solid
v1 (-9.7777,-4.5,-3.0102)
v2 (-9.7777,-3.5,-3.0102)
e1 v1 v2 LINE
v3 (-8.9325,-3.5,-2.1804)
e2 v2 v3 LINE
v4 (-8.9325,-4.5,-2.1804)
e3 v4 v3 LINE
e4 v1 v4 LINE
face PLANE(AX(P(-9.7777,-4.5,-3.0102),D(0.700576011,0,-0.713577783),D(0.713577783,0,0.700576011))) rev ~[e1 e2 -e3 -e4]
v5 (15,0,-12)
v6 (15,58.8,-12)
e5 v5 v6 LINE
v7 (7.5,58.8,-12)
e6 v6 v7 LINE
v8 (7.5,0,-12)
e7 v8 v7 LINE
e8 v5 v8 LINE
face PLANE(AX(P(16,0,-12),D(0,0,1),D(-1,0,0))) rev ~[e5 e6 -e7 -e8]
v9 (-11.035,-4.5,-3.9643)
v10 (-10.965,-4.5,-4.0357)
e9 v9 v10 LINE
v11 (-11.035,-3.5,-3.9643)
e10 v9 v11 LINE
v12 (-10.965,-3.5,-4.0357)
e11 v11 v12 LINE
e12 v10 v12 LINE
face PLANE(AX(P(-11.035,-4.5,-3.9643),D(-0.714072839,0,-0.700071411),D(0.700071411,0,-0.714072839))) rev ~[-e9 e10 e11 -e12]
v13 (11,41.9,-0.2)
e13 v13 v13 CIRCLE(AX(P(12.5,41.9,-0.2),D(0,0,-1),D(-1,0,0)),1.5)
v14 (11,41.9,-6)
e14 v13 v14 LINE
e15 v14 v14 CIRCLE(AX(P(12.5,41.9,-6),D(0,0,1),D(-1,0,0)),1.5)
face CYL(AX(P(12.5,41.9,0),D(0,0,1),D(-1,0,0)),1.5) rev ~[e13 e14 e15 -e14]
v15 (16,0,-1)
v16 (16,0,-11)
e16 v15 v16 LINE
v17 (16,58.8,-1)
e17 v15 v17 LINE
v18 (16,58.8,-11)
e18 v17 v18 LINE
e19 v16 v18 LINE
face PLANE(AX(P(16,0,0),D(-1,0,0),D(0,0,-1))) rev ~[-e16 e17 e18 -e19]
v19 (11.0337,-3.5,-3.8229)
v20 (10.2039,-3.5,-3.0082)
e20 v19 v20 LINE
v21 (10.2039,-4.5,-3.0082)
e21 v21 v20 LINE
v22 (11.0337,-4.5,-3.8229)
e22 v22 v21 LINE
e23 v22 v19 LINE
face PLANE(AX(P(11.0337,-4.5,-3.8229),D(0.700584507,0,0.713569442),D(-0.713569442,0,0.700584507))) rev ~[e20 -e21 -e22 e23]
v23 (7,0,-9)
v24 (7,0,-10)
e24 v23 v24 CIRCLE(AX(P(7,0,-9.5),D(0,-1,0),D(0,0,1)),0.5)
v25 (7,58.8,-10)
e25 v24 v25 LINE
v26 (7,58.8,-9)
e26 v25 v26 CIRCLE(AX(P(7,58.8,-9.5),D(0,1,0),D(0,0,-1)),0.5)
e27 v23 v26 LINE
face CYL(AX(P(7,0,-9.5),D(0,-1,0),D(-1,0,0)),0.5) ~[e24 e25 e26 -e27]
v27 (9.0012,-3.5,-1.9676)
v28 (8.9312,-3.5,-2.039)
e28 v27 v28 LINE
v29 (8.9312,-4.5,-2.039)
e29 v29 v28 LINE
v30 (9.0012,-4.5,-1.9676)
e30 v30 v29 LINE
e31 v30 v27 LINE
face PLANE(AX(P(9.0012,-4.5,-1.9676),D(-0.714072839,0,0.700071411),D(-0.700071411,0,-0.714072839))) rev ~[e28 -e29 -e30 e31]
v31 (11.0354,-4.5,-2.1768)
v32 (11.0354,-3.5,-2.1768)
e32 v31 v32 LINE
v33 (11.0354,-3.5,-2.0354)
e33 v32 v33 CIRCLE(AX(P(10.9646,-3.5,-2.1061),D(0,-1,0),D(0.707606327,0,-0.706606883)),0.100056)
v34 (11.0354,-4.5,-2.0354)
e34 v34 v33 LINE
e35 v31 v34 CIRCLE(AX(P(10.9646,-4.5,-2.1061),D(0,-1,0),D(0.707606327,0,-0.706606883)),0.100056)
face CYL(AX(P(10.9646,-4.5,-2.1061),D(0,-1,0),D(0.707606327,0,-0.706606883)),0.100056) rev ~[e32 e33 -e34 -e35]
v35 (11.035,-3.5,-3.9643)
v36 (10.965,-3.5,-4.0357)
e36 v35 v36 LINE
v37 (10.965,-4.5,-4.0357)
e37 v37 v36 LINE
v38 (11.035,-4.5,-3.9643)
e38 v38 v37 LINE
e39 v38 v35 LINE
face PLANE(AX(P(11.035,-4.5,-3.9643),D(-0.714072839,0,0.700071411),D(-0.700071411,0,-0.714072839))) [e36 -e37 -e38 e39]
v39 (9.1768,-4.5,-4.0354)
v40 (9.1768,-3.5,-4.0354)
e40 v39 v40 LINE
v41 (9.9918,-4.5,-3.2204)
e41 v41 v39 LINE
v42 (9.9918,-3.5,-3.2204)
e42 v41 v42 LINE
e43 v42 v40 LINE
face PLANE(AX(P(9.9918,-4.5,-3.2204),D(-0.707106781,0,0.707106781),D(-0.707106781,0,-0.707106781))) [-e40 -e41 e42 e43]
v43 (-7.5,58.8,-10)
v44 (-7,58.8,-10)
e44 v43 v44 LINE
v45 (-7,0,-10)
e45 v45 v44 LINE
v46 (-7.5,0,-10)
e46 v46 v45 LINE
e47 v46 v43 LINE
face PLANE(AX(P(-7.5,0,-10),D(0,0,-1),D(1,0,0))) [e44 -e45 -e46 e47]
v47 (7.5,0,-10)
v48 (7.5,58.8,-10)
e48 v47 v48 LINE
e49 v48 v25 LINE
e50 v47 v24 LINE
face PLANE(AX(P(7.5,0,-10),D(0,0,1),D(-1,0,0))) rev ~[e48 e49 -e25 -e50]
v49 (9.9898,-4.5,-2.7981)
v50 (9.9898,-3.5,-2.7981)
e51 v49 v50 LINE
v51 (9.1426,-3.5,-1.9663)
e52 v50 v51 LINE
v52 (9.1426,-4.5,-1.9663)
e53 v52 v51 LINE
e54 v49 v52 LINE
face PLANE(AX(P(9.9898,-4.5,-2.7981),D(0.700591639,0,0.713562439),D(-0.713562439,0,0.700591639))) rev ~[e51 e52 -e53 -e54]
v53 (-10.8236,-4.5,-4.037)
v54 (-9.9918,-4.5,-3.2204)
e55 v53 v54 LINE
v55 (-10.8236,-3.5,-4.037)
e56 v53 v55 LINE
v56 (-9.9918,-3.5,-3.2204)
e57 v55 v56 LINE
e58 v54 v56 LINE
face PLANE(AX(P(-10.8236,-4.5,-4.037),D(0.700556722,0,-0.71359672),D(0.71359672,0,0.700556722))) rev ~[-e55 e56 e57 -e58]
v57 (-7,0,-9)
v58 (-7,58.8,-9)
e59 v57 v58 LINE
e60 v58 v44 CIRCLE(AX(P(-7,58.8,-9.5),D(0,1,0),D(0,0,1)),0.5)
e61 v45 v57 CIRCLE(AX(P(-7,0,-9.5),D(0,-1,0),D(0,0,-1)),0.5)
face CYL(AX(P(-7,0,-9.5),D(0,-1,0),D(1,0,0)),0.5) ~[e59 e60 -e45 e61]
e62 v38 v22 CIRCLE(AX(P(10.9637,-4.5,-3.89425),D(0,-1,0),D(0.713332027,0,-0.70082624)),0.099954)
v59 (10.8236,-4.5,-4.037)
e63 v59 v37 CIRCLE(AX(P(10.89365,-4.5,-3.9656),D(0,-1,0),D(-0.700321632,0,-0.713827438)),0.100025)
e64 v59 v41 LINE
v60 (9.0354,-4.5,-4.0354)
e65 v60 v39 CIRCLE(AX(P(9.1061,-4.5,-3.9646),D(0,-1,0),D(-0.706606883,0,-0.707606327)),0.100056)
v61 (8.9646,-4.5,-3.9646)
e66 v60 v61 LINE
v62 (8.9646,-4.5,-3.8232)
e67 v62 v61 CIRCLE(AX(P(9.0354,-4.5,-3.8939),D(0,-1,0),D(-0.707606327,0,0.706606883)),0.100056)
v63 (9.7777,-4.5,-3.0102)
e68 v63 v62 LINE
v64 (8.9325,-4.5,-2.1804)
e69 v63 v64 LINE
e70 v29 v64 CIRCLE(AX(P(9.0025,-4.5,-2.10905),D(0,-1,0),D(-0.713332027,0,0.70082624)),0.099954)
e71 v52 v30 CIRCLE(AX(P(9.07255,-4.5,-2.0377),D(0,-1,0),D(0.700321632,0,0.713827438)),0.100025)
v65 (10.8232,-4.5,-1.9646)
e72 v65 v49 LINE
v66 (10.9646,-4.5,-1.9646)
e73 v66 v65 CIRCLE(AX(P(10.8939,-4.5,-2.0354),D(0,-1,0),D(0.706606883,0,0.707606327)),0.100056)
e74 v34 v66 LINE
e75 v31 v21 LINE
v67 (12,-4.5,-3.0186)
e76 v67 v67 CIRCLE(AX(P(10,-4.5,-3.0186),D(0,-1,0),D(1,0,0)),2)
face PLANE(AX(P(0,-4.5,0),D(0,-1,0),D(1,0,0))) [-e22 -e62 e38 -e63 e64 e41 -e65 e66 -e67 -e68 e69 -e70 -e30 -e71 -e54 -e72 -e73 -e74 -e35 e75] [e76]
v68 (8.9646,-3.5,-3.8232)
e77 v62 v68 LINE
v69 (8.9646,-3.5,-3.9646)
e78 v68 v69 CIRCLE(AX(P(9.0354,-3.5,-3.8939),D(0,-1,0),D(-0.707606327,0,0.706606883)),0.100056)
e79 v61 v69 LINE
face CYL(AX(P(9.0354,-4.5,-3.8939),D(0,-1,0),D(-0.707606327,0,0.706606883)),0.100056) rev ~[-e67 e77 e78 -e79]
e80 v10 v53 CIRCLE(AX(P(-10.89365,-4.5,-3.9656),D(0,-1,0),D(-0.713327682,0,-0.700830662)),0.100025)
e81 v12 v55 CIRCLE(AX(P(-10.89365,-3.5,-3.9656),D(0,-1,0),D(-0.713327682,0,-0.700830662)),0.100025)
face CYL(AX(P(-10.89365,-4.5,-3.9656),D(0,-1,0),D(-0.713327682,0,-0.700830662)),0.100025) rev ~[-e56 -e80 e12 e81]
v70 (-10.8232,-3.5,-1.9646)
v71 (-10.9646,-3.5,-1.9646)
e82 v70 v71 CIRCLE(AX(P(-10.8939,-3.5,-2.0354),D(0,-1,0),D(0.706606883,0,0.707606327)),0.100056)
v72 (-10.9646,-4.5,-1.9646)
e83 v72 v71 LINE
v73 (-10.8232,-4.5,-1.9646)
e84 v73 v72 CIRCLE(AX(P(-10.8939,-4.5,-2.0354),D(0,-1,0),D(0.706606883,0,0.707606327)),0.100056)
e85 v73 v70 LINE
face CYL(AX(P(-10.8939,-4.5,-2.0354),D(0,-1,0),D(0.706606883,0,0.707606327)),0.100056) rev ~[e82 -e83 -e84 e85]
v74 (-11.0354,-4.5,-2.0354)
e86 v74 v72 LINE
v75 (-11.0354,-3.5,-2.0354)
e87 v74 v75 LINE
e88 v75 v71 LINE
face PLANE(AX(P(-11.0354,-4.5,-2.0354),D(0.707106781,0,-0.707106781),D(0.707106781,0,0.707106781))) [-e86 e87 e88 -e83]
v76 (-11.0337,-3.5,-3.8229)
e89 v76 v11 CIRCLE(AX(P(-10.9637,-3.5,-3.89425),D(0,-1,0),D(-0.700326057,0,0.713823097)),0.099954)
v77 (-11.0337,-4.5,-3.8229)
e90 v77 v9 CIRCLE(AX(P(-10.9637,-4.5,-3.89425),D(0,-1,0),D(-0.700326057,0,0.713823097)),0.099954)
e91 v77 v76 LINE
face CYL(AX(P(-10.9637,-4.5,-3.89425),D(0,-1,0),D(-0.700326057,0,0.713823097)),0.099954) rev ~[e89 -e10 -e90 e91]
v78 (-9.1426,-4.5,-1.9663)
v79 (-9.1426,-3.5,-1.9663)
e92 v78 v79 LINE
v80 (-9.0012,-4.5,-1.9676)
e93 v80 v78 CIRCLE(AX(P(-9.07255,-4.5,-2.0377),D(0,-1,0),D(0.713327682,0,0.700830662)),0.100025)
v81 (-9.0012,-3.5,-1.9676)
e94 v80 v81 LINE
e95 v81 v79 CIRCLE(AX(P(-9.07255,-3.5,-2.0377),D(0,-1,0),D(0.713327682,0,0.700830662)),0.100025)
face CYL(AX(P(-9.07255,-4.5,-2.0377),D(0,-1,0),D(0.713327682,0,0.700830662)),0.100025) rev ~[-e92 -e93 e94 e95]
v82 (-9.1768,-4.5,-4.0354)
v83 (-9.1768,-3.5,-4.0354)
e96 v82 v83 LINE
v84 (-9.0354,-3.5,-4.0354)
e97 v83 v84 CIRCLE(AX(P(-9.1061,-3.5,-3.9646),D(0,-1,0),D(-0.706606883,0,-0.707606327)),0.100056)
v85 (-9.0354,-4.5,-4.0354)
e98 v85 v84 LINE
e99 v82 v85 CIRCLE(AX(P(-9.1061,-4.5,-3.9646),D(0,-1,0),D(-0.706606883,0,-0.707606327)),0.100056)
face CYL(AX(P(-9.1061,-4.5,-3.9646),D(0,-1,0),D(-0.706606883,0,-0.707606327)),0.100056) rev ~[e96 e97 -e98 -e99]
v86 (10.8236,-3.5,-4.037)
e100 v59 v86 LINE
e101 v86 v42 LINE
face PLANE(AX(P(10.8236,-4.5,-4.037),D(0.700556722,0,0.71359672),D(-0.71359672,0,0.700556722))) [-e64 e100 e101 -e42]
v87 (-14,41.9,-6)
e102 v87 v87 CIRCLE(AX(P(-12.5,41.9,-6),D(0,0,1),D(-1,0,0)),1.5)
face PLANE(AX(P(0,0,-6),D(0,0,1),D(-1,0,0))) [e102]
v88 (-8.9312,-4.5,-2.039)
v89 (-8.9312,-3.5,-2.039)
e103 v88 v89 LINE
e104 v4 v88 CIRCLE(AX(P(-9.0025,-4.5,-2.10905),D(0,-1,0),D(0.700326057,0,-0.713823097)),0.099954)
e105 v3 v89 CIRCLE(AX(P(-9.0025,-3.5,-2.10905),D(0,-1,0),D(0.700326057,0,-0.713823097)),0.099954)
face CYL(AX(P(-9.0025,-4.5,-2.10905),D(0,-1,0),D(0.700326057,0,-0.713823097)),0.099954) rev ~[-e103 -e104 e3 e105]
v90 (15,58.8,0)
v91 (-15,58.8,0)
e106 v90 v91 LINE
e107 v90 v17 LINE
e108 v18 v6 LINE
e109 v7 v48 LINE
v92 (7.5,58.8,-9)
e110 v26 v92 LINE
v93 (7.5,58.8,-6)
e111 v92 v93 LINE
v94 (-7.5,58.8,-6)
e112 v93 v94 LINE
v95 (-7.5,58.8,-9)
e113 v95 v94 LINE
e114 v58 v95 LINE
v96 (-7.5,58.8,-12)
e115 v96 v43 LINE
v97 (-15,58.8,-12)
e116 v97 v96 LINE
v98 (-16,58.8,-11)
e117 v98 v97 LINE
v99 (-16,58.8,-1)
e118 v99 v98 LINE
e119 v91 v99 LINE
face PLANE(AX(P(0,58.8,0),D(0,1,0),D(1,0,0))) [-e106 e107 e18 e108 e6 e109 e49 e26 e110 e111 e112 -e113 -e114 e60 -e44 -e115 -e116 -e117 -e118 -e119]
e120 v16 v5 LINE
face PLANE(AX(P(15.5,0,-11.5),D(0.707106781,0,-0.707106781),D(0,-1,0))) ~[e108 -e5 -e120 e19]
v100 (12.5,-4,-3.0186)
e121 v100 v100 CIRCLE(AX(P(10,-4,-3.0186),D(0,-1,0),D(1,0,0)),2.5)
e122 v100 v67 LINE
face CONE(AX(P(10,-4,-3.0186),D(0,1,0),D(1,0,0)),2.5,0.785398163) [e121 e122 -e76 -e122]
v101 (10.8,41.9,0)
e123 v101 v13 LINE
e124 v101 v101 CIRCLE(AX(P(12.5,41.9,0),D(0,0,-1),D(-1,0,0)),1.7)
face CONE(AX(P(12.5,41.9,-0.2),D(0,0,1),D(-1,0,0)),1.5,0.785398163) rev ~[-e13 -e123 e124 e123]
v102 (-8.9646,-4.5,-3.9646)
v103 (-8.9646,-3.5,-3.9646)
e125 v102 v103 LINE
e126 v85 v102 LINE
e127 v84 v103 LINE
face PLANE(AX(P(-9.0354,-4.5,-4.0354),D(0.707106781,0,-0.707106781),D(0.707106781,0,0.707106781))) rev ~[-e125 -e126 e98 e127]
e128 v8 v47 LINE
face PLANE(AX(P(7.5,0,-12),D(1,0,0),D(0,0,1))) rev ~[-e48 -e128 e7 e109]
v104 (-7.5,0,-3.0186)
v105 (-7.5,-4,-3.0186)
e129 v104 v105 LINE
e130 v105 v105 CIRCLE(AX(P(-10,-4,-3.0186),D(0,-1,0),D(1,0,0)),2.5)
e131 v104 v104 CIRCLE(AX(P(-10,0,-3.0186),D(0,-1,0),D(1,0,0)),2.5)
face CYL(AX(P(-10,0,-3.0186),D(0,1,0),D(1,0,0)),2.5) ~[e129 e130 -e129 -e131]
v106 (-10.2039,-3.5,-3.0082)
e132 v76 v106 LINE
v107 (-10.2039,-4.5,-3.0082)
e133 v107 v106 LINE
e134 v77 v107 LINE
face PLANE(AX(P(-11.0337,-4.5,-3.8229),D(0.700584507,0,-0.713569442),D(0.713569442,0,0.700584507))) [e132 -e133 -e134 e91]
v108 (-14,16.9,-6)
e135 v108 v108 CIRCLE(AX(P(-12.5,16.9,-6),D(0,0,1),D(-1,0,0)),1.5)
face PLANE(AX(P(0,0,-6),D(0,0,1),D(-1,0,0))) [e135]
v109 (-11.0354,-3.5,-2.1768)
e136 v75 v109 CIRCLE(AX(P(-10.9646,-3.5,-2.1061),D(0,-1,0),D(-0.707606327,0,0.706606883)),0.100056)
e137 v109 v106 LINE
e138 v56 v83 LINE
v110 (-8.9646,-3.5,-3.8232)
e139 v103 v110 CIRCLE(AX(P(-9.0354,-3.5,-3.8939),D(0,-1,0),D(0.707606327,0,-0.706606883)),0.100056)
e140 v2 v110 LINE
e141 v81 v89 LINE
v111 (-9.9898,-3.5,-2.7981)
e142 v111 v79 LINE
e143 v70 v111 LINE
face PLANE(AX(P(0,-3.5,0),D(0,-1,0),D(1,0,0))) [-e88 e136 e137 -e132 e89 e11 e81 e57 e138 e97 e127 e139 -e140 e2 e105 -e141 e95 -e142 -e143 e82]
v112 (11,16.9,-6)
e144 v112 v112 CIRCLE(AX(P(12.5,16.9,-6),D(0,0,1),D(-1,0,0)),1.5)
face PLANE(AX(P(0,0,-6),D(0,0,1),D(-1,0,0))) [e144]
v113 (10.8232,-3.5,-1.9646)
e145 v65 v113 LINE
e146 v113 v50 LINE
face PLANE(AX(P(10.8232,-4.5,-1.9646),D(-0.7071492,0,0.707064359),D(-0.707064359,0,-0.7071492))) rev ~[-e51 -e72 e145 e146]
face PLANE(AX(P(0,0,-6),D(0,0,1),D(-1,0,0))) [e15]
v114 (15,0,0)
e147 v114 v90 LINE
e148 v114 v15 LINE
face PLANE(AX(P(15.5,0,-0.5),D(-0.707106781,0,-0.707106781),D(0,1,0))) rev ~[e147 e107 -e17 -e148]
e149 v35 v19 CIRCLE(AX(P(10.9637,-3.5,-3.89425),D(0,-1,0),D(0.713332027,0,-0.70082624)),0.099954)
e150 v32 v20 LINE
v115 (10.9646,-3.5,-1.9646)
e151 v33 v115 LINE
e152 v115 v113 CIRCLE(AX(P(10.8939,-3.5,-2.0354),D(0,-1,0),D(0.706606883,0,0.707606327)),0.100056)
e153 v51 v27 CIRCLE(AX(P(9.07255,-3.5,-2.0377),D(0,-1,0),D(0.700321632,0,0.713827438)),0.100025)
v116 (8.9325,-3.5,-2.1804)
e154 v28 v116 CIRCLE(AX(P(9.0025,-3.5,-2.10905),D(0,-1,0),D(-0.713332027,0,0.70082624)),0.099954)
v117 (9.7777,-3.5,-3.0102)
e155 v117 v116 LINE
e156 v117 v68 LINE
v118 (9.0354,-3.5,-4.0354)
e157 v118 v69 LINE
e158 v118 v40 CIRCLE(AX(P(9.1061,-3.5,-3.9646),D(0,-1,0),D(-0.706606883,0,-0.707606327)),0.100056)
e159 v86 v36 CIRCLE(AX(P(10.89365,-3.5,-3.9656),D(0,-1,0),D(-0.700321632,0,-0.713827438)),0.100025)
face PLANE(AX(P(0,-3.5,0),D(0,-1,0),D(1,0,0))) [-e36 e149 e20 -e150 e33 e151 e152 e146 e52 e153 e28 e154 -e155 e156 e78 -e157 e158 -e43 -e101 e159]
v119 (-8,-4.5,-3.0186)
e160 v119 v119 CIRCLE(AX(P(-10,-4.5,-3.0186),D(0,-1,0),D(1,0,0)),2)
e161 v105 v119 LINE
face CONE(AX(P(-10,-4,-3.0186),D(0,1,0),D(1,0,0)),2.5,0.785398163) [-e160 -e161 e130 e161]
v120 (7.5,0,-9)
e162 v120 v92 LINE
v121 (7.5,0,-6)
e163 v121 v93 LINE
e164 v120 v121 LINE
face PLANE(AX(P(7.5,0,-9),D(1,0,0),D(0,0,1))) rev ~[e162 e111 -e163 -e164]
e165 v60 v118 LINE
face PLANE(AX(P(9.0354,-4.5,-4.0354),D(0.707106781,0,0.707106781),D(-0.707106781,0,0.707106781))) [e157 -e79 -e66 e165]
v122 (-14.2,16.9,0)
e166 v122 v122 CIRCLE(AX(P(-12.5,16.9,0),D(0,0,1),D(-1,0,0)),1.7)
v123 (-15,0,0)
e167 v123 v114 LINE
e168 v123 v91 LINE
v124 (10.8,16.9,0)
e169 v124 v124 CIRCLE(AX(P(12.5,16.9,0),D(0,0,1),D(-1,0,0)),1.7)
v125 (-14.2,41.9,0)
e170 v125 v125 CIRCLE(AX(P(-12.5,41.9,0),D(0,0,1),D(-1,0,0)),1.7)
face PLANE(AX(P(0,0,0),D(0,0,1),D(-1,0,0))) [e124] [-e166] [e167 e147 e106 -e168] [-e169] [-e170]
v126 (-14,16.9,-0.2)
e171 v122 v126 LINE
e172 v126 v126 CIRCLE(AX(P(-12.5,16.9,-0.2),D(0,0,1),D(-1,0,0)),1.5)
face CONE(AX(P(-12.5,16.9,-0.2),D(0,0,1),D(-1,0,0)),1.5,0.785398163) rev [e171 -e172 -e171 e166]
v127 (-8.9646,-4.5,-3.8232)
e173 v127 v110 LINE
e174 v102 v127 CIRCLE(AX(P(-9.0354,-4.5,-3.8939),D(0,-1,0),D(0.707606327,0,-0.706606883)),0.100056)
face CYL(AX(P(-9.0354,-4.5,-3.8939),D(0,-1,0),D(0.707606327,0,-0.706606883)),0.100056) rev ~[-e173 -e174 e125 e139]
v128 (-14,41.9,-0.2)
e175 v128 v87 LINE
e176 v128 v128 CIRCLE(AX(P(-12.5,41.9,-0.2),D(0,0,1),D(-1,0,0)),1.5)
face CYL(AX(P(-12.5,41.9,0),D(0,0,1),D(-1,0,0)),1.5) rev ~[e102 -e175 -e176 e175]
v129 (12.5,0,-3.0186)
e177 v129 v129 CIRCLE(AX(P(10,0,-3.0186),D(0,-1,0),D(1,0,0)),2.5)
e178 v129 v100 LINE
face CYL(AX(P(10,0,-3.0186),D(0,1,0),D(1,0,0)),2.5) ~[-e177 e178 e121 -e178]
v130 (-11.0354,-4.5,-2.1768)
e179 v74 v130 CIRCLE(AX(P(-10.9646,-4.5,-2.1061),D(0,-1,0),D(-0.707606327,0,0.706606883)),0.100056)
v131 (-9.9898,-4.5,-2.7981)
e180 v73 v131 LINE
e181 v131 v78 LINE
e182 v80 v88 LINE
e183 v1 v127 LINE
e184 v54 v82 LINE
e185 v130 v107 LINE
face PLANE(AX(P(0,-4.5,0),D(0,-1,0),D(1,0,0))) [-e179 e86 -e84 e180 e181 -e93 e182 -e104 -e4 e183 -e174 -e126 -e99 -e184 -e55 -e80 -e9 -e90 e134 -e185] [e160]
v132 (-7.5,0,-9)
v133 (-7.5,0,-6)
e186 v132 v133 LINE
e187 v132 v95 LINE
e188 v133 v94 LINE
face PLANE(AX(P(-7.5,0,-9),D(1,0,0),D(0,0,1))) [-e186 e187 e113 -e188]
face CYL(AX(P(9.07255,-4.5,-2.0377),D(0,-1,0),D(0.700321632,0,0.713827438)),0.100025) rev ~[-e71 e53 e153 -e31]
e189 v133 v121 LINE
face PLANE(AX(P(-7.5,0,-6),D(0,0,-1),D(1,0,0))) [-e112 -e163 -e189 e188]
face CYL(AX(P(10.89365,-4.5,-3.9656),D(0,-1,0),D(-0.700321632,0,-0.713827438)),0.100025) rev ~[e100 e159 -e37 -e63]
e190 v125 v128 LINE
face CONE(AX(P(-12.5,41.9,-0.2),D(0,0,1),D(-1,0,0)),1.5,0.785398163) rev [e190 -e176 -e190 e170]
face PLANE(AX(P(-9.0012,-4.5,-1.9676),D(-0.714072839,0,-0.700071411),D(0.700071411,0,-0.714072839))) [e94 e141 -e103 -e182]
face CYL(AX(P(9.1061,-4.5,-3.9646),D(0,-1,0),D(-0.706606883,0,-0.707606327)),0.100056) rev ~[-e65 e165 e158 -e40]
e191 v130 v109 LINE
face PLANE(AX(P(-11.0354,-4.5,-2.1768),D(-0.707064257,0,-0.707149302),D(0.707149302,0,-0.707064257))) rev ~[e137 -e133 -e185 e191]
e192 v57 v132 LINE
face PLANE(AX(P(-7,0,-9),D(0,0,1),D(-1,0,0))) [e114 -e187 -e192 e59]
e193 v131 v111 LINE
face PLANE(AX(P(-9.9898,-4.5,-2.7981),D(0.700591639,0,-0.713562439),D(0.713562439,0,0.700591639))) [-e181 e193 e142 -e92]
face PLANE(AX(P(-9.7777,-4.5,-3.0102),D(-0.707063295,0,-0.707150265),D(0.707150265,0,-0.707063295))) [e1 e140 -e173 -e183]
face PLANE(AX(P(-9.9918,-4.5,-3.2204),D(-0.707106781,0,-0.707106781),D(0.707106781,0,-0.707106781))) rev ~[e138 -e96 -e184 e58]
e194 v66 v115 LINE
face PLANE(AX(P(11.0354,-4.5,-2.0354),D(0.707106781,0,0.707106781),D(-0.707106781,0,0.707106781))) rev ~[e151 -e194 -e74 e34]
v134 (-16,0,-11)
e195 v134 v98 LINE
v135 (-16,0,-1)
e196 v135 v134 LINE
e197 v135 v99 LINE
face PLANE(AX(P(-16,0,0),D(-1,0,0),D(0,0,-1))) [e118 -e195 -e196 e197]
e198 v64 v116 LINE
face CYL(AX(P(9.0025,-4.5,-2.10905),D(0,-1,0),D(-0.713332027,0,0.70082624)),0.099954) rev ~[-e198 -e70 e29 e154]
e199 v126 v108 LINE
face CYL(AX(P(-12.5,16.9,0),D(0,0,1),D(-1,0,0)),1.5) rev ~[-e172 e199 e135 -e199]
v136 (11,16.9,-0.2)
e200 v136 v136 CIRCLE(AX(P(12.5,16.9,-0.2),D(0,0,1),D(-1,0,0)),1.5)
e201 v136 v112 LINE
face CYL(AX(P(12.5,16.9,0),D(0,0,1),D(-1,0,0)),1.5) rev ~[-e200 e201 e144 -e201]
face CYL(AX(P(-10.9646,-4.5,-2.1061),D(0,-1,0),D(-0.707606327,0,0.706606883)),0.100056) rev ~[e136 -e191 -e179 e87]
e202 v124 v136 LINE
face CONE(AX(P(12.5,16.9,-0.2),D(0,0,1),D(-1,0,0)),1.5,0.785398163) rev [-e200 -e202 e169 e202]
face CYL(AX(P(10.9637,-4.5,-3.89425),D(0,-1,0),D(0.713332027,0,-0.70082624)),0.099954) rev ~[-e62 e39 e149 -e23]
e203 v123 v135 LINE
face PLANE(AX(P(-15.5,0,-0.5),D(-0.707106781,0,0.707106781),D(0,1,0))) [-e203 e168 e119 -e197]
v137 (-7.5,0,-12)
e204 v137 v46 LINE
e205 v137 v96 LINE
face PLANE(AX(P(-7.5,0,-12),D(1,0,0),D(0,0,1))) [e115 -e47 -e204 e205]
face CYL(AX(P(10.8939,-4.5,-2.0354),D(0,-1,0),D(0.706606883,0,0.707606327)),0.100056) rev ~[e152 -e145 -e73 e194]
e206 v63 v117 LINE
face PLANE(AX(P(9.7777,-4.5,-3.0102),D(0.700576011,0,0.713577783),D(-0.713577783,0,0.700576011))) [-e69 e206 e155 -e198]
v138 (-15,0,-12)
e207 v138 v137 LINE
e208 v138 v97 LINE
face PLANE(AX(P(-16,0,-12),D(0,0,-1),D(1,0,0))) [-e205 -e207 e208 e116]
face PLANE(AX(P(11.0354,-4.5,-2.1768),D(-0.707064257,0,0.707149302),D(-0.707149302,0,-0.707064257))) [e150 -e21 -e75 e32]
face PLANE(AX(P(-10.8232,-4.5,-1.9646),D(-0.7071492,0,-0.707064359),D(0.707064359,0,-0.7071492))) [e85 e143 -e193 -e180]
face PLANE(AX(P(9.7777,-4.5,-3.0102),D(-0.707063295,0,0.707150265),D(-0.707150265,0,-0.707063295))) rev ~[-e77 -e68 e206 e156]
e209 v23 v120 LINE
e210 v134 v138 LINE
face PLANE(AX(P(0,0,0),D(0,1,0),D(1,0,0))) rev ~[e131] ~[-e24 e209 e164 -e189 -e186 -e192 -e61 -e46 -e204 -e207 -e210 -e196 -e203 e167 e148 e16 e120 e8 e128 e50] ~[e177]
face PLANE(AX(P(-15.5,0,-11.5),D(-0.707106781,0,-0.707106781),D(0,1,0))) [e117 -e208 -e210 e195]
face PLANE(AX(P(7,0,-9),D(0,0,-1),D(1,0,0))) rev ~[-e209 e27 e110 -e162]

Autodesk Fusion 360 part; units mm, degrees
sketch "Sketch1" plane through (0, 0, 0) normal (0, 1, 0) x (1, 0, 0)
  line L0 (0, 0) -> (16, 0)
  line L1 (16, 0) -> (16, 12)
  line L2 (16, 12) -> (7.5, 12)
  line L3 (7.5, 6) -> (0, 6)
  line L4 (7.5, 12) -> (7.5, 10)
  line L5 (7.5, 10) -> (7, 10)
  line L6 (6.5, 9.5) -> (6.5, 9.5)
  line L7 (7, 9) -> (7.5, 9)
  line L8 (7.5, 9) -> (7.5, 6)
  arc A0 (6.5, 9.5) -> (7, 9) centre (7, 9.5) ccw
  arc A1 (7, 10) -> (6.5, 9.5) centre (7, 9.5) ccw
  line L9 (-7, 9) -> (-7.5, 9)
  line L10 (-7.5, 10) -> (-7, 10)
  arc A2 (-6.5, 9.5) -> (-7, 10) centre (-7, 9.5) ccw
  arc A3 (-7, 9) -> (-6.5, 9.5) centre (-7, 9.5) ccw
  line L11 (-16, 12) -> (-7.5, 12)
  line L12 (-16, 0) -> (-16, 12)
  line L13 (-6.5, 9.5) -> (-6.5, 9.5)
  line L14 (0, 0) -> (-16, 0)
  line L15 (-7.5, 6) -> (0, 6)
  line L16 (-7.5, 12) -> (-7.5, 10)
  line L17 (-7.5, 9) -> (-7.5, 6)
  point P0 (6.5, 10)
  point P1 (6.5, 9)
  point P2 (-6.5, 9)
  point P3 (-6.5, 10)
  dimension "d1" = 16
  dimension "d2" = 12
  dimension "d3" = 8.5
  dimension "d4" = 6
  dimension "d5" = 7.5
  dimension "d6" = 1
  dimension "d7" = 1
  dimension "d8" = 1
  dimension "d9" = 0.5
  dimension "d10" = 0.5
extrude "Extrude1" add sketch "Sketch1" along normal blind 58.8
sketch "Sketch2" plane through (0, 0, 0) normal (0, 0, 1) x (-1, 0, 0)
  line L0 (16, 0) -> (-16, 0)
  line L1 (-16, 0) -> (-16, -58.8)
  line L2 (-16, -58.8) -> (16, -58.8)
  line L3 (16, -58.8) -> (16, 0)
  line L4 (0, -29.4) -> (-12.5, -29.4)
  line L5 (-12.5, -29.4) -> (-12.5, -41.9)
  line L6 (-12.5, -41.9) -> (0, -41.9)
  line L7 (0, -41.9) -> (0, -29.4)
  circle A0 centre (-12.5, -41.9) radius 1.5
  circle A1 centre (12.5, -41.9) radius 1.5
  circle A2 centre (12.5, -16.9) radius 1.5
  circle A3 centre (-12.5, -16.9) radius 1.5
  dimension "d13" = 12.5
  dimension "d14" = 12.5
  dimension "d15" = 3
extrude "Extrude2" cut sketch "Sketch2" against normal blind 6 contours L5 L6 A0 | L5 L6 A0 | A1 | A2 | A3
chamfer "Chamfer1" distance 1 angle 45 4 edges at (-16, 29.4, 0) (-16, 29.4, -12) (16, 29.4, 0) (16, 29.4, -12)
chamfer "Chamfer2" distance 0.2 angle 45 4 edges at (-11.1015, 41.3576, 0) (13.8985, 41.3576, 0) (13.8985, 16.3576, 0) (-11.1015, 16.3576, 0)
sketch "Sketch3" plane through (0, 0, 0) normal (0, -1, 0) x (1, 0, 0)
  line L0 (15, -12) -> (16, -11)
  line L1 (16, -11) -> (16, -1)
  line L2 (16, -1) -> (15, 0)
  line L3 (15, 0) -> (-15, 0)
  line L4 (-15, 0) -> (-16, -1)
  line L5 (-16, -1) -> (-16, -11)
  line L6 (-16, -11) -> (-15, -12)
  line L7 (-15, -12) -> (-7.5, -12)
  line L8 (-7.5, -12) -> (-7.5, -10)
  line L9 (-7.5, -10) -> (-7, -10)
  arc A0 (-7, -10) -> (-7, -9) centre (-7, -9.5) ccw
  line L10 (-7, -9) -> (-7.5, -9)
  line L11 (-7.5, -9) -> (-7.5, -6)
  line L12 (-7.5, -6) -> (7.5, -6)
  line L13 (7.5, -6) -> (7.5, -9)
  line L14 (7.5, -9) -> (7, -9)
  arc A1 (7, -9) -> (7, -10) centre (7, -9.5) ccw
  line L15 (7, -10) -> (7.5, -10)
  line L16 (7.5, -10) -> (7.5, -12)
  line L17 (7.5, -12) -> (15, -12)
  circle A2 centre (-10, -3.0186) radius 2.5
  circle A3 centre (10, -3.0186) radius 2.5
  dimension "d22" = 5
extrude "Extrude3" add sketch "Sketch3" along normal blind 4.5 contours A2 | A3
chamfer "Chamfer3" distance 0.5 angle 45 2 edges at (-12.3308, -4.5, -3.9226) (7.6692, -4.5, -3.9226)
sketch "Sketch4" plane through (0, -4.5, 0) normal (0, -1, 0) x (1, 0, 0)
  circle A0 centre (-10, -3.0186) radius 2
  line L0 (-11.0354, -2.0354) -> (-10.9646, -1.9646)
  line L1 (-9.0012, -1.9676) -> (-8.9312, -2.039)
  line L2 (-11.035, -3.9643) -> (-10.965, -4.0357)
  line L3 (-9.0354, -4.0354) -> (-8.9646, -3.9646)
  line L4 (-11.0337, -3.8229) -> (-10.2039, -3.0082)
  line L5 (-9.9898, -2.7981) -> (-9.1426, -1.9663)
  line L6 (-10.8232, -1.9646) -> (-9.9898, -2.7981)
  line L7 (-9.7777, -3.0102) -> (-8.9646, -3.8232)
  line L8 (-10.8236, -4.037) -> (-9.9918, -3.2204)
  line L9 (-9.7777, -3.0102) -> (-8.9325, -2.1804)
  line L10 (-11.0354, -2.1768) -> (-10.2039, -3.0082)
  line L11 (-9.9918, -3.2204) -> (-9.1768, -4.0354)
  arc A1 (-11.0354, -2.0354) -> (-11.0354, -2.1768) centre (-10.9646, -2.1061) ccw
  arc A2 (-10.8232, -1.9646) -> (-10.9646, -1.9646) centre (-10.8939, -2.0354) ccw
  arc A3 (-9.0012, -1.9676) -> (-9.1426, -1.9663) centre (-9.0726, -2.0377) ccw
  arc A4 (-8.9325, -2.1804) -> (-8.9312, -2.039) centre (-9.0025, -2.109) ccw
  arc A5 (-8.9646, -3.9646) -> (-8.9646, -3.8232) centre (-9.0354, -3.8939) ccw
  arc A6 (-9.1768, -4.0354) -> (-9.0354, -4.0354) centre (-9.1061, -3.9646) ccw
  arc A7 (-10.965, -4.0357) -> (-10.8236, -4.037) centre (-10.8936, -3.9656) ccw
  arc A8 (-11.0337, -3.8229) -> (-11.035, -3.9643) centre (-10.9637, -3.8943) ccw
  arc A9 (11.0354, -2.1768) -> (11.0354, -2.0354) centre (10.9646, -2.1061) ccw
  line L12 (11.035, -3.9643) -> (10.965, -4.0357)
  line L13 (9.7777, -3.0102) -> (8.9325, -2.1804)
  line L14 (11.0354, -2.0354) -> (10.9646, -1.9646)
  line L15 (9.9898, -2.7981) -> (9.1426, -1.9663)
  arc A10 (8.9646, -3.8232) -> (8.9646, -3.9646) centre (9.0354, -3.8939) ccw
  arc A11 (8.9312, -2.039) -> (8.9325, -2.1804) centre (9.0025, -2.109) ccw
  line L16 (9.9918, -3.2204) -> (9.1768, -4.0354)
  arc A12 (10.8236, -4.037) -> (10.965, -4.0357) centre (10.8936, -3.9656) ccw
  arc A13 (9.0354, -4.0354) -> (9.1768, -4.0354) centre (9.1061, -3.9646) ccw
  arc A14 (11.035, -3.9643) -> (11.0337, -3.8229) centre (10.9637, -3.8943) ccw
  line L17 (10.8236, -4.037) -> (9.9918, -3.2204)
  arc A15 (9.1426, -1.9663) -> (9.0012, -1.9676) centre (9.0726, -2.0377) ccw
  line L18 (10.8232, -1.9646) -> (9.9898, -2.7981)
  arc A16 (10.9646, -1.9646) -> (10.8232, -1.9646) centre (10.8939, -2.0354) ccw
  line L19 (11.0354, -2.1768) -> (10.2039, -3.0082)
  line L20 (9.0012, -1.9676) -> (8.9312, -2.039)
  line L21 (11.0337, -3.8229) -> (10.2039, -3.0082)
  line L22 (9.7777, -3.0102) -> (8.9646, -3.8232)
  line L23 (9.0354, -4.0354) -> (8.9646, -3.9646)
  point P0 (10, -3.0186)
  dimension "d30" = 0.1
  dimension "d31" = 0.1
extrude "Extrude4" cut sketch "Sketch4" against normal blind 1 contours L0 L1 L2 L3 L4 L5 L6 L7 L8 L9 L10 L11 A1 A2 A3 A4 A5 A6 A7 A8 | A9 L12 L13 L14 L15 A10 A11 L16 A12 A13 A14 L17 A15 L18 A16 L19 L20 L21 L22 L23
